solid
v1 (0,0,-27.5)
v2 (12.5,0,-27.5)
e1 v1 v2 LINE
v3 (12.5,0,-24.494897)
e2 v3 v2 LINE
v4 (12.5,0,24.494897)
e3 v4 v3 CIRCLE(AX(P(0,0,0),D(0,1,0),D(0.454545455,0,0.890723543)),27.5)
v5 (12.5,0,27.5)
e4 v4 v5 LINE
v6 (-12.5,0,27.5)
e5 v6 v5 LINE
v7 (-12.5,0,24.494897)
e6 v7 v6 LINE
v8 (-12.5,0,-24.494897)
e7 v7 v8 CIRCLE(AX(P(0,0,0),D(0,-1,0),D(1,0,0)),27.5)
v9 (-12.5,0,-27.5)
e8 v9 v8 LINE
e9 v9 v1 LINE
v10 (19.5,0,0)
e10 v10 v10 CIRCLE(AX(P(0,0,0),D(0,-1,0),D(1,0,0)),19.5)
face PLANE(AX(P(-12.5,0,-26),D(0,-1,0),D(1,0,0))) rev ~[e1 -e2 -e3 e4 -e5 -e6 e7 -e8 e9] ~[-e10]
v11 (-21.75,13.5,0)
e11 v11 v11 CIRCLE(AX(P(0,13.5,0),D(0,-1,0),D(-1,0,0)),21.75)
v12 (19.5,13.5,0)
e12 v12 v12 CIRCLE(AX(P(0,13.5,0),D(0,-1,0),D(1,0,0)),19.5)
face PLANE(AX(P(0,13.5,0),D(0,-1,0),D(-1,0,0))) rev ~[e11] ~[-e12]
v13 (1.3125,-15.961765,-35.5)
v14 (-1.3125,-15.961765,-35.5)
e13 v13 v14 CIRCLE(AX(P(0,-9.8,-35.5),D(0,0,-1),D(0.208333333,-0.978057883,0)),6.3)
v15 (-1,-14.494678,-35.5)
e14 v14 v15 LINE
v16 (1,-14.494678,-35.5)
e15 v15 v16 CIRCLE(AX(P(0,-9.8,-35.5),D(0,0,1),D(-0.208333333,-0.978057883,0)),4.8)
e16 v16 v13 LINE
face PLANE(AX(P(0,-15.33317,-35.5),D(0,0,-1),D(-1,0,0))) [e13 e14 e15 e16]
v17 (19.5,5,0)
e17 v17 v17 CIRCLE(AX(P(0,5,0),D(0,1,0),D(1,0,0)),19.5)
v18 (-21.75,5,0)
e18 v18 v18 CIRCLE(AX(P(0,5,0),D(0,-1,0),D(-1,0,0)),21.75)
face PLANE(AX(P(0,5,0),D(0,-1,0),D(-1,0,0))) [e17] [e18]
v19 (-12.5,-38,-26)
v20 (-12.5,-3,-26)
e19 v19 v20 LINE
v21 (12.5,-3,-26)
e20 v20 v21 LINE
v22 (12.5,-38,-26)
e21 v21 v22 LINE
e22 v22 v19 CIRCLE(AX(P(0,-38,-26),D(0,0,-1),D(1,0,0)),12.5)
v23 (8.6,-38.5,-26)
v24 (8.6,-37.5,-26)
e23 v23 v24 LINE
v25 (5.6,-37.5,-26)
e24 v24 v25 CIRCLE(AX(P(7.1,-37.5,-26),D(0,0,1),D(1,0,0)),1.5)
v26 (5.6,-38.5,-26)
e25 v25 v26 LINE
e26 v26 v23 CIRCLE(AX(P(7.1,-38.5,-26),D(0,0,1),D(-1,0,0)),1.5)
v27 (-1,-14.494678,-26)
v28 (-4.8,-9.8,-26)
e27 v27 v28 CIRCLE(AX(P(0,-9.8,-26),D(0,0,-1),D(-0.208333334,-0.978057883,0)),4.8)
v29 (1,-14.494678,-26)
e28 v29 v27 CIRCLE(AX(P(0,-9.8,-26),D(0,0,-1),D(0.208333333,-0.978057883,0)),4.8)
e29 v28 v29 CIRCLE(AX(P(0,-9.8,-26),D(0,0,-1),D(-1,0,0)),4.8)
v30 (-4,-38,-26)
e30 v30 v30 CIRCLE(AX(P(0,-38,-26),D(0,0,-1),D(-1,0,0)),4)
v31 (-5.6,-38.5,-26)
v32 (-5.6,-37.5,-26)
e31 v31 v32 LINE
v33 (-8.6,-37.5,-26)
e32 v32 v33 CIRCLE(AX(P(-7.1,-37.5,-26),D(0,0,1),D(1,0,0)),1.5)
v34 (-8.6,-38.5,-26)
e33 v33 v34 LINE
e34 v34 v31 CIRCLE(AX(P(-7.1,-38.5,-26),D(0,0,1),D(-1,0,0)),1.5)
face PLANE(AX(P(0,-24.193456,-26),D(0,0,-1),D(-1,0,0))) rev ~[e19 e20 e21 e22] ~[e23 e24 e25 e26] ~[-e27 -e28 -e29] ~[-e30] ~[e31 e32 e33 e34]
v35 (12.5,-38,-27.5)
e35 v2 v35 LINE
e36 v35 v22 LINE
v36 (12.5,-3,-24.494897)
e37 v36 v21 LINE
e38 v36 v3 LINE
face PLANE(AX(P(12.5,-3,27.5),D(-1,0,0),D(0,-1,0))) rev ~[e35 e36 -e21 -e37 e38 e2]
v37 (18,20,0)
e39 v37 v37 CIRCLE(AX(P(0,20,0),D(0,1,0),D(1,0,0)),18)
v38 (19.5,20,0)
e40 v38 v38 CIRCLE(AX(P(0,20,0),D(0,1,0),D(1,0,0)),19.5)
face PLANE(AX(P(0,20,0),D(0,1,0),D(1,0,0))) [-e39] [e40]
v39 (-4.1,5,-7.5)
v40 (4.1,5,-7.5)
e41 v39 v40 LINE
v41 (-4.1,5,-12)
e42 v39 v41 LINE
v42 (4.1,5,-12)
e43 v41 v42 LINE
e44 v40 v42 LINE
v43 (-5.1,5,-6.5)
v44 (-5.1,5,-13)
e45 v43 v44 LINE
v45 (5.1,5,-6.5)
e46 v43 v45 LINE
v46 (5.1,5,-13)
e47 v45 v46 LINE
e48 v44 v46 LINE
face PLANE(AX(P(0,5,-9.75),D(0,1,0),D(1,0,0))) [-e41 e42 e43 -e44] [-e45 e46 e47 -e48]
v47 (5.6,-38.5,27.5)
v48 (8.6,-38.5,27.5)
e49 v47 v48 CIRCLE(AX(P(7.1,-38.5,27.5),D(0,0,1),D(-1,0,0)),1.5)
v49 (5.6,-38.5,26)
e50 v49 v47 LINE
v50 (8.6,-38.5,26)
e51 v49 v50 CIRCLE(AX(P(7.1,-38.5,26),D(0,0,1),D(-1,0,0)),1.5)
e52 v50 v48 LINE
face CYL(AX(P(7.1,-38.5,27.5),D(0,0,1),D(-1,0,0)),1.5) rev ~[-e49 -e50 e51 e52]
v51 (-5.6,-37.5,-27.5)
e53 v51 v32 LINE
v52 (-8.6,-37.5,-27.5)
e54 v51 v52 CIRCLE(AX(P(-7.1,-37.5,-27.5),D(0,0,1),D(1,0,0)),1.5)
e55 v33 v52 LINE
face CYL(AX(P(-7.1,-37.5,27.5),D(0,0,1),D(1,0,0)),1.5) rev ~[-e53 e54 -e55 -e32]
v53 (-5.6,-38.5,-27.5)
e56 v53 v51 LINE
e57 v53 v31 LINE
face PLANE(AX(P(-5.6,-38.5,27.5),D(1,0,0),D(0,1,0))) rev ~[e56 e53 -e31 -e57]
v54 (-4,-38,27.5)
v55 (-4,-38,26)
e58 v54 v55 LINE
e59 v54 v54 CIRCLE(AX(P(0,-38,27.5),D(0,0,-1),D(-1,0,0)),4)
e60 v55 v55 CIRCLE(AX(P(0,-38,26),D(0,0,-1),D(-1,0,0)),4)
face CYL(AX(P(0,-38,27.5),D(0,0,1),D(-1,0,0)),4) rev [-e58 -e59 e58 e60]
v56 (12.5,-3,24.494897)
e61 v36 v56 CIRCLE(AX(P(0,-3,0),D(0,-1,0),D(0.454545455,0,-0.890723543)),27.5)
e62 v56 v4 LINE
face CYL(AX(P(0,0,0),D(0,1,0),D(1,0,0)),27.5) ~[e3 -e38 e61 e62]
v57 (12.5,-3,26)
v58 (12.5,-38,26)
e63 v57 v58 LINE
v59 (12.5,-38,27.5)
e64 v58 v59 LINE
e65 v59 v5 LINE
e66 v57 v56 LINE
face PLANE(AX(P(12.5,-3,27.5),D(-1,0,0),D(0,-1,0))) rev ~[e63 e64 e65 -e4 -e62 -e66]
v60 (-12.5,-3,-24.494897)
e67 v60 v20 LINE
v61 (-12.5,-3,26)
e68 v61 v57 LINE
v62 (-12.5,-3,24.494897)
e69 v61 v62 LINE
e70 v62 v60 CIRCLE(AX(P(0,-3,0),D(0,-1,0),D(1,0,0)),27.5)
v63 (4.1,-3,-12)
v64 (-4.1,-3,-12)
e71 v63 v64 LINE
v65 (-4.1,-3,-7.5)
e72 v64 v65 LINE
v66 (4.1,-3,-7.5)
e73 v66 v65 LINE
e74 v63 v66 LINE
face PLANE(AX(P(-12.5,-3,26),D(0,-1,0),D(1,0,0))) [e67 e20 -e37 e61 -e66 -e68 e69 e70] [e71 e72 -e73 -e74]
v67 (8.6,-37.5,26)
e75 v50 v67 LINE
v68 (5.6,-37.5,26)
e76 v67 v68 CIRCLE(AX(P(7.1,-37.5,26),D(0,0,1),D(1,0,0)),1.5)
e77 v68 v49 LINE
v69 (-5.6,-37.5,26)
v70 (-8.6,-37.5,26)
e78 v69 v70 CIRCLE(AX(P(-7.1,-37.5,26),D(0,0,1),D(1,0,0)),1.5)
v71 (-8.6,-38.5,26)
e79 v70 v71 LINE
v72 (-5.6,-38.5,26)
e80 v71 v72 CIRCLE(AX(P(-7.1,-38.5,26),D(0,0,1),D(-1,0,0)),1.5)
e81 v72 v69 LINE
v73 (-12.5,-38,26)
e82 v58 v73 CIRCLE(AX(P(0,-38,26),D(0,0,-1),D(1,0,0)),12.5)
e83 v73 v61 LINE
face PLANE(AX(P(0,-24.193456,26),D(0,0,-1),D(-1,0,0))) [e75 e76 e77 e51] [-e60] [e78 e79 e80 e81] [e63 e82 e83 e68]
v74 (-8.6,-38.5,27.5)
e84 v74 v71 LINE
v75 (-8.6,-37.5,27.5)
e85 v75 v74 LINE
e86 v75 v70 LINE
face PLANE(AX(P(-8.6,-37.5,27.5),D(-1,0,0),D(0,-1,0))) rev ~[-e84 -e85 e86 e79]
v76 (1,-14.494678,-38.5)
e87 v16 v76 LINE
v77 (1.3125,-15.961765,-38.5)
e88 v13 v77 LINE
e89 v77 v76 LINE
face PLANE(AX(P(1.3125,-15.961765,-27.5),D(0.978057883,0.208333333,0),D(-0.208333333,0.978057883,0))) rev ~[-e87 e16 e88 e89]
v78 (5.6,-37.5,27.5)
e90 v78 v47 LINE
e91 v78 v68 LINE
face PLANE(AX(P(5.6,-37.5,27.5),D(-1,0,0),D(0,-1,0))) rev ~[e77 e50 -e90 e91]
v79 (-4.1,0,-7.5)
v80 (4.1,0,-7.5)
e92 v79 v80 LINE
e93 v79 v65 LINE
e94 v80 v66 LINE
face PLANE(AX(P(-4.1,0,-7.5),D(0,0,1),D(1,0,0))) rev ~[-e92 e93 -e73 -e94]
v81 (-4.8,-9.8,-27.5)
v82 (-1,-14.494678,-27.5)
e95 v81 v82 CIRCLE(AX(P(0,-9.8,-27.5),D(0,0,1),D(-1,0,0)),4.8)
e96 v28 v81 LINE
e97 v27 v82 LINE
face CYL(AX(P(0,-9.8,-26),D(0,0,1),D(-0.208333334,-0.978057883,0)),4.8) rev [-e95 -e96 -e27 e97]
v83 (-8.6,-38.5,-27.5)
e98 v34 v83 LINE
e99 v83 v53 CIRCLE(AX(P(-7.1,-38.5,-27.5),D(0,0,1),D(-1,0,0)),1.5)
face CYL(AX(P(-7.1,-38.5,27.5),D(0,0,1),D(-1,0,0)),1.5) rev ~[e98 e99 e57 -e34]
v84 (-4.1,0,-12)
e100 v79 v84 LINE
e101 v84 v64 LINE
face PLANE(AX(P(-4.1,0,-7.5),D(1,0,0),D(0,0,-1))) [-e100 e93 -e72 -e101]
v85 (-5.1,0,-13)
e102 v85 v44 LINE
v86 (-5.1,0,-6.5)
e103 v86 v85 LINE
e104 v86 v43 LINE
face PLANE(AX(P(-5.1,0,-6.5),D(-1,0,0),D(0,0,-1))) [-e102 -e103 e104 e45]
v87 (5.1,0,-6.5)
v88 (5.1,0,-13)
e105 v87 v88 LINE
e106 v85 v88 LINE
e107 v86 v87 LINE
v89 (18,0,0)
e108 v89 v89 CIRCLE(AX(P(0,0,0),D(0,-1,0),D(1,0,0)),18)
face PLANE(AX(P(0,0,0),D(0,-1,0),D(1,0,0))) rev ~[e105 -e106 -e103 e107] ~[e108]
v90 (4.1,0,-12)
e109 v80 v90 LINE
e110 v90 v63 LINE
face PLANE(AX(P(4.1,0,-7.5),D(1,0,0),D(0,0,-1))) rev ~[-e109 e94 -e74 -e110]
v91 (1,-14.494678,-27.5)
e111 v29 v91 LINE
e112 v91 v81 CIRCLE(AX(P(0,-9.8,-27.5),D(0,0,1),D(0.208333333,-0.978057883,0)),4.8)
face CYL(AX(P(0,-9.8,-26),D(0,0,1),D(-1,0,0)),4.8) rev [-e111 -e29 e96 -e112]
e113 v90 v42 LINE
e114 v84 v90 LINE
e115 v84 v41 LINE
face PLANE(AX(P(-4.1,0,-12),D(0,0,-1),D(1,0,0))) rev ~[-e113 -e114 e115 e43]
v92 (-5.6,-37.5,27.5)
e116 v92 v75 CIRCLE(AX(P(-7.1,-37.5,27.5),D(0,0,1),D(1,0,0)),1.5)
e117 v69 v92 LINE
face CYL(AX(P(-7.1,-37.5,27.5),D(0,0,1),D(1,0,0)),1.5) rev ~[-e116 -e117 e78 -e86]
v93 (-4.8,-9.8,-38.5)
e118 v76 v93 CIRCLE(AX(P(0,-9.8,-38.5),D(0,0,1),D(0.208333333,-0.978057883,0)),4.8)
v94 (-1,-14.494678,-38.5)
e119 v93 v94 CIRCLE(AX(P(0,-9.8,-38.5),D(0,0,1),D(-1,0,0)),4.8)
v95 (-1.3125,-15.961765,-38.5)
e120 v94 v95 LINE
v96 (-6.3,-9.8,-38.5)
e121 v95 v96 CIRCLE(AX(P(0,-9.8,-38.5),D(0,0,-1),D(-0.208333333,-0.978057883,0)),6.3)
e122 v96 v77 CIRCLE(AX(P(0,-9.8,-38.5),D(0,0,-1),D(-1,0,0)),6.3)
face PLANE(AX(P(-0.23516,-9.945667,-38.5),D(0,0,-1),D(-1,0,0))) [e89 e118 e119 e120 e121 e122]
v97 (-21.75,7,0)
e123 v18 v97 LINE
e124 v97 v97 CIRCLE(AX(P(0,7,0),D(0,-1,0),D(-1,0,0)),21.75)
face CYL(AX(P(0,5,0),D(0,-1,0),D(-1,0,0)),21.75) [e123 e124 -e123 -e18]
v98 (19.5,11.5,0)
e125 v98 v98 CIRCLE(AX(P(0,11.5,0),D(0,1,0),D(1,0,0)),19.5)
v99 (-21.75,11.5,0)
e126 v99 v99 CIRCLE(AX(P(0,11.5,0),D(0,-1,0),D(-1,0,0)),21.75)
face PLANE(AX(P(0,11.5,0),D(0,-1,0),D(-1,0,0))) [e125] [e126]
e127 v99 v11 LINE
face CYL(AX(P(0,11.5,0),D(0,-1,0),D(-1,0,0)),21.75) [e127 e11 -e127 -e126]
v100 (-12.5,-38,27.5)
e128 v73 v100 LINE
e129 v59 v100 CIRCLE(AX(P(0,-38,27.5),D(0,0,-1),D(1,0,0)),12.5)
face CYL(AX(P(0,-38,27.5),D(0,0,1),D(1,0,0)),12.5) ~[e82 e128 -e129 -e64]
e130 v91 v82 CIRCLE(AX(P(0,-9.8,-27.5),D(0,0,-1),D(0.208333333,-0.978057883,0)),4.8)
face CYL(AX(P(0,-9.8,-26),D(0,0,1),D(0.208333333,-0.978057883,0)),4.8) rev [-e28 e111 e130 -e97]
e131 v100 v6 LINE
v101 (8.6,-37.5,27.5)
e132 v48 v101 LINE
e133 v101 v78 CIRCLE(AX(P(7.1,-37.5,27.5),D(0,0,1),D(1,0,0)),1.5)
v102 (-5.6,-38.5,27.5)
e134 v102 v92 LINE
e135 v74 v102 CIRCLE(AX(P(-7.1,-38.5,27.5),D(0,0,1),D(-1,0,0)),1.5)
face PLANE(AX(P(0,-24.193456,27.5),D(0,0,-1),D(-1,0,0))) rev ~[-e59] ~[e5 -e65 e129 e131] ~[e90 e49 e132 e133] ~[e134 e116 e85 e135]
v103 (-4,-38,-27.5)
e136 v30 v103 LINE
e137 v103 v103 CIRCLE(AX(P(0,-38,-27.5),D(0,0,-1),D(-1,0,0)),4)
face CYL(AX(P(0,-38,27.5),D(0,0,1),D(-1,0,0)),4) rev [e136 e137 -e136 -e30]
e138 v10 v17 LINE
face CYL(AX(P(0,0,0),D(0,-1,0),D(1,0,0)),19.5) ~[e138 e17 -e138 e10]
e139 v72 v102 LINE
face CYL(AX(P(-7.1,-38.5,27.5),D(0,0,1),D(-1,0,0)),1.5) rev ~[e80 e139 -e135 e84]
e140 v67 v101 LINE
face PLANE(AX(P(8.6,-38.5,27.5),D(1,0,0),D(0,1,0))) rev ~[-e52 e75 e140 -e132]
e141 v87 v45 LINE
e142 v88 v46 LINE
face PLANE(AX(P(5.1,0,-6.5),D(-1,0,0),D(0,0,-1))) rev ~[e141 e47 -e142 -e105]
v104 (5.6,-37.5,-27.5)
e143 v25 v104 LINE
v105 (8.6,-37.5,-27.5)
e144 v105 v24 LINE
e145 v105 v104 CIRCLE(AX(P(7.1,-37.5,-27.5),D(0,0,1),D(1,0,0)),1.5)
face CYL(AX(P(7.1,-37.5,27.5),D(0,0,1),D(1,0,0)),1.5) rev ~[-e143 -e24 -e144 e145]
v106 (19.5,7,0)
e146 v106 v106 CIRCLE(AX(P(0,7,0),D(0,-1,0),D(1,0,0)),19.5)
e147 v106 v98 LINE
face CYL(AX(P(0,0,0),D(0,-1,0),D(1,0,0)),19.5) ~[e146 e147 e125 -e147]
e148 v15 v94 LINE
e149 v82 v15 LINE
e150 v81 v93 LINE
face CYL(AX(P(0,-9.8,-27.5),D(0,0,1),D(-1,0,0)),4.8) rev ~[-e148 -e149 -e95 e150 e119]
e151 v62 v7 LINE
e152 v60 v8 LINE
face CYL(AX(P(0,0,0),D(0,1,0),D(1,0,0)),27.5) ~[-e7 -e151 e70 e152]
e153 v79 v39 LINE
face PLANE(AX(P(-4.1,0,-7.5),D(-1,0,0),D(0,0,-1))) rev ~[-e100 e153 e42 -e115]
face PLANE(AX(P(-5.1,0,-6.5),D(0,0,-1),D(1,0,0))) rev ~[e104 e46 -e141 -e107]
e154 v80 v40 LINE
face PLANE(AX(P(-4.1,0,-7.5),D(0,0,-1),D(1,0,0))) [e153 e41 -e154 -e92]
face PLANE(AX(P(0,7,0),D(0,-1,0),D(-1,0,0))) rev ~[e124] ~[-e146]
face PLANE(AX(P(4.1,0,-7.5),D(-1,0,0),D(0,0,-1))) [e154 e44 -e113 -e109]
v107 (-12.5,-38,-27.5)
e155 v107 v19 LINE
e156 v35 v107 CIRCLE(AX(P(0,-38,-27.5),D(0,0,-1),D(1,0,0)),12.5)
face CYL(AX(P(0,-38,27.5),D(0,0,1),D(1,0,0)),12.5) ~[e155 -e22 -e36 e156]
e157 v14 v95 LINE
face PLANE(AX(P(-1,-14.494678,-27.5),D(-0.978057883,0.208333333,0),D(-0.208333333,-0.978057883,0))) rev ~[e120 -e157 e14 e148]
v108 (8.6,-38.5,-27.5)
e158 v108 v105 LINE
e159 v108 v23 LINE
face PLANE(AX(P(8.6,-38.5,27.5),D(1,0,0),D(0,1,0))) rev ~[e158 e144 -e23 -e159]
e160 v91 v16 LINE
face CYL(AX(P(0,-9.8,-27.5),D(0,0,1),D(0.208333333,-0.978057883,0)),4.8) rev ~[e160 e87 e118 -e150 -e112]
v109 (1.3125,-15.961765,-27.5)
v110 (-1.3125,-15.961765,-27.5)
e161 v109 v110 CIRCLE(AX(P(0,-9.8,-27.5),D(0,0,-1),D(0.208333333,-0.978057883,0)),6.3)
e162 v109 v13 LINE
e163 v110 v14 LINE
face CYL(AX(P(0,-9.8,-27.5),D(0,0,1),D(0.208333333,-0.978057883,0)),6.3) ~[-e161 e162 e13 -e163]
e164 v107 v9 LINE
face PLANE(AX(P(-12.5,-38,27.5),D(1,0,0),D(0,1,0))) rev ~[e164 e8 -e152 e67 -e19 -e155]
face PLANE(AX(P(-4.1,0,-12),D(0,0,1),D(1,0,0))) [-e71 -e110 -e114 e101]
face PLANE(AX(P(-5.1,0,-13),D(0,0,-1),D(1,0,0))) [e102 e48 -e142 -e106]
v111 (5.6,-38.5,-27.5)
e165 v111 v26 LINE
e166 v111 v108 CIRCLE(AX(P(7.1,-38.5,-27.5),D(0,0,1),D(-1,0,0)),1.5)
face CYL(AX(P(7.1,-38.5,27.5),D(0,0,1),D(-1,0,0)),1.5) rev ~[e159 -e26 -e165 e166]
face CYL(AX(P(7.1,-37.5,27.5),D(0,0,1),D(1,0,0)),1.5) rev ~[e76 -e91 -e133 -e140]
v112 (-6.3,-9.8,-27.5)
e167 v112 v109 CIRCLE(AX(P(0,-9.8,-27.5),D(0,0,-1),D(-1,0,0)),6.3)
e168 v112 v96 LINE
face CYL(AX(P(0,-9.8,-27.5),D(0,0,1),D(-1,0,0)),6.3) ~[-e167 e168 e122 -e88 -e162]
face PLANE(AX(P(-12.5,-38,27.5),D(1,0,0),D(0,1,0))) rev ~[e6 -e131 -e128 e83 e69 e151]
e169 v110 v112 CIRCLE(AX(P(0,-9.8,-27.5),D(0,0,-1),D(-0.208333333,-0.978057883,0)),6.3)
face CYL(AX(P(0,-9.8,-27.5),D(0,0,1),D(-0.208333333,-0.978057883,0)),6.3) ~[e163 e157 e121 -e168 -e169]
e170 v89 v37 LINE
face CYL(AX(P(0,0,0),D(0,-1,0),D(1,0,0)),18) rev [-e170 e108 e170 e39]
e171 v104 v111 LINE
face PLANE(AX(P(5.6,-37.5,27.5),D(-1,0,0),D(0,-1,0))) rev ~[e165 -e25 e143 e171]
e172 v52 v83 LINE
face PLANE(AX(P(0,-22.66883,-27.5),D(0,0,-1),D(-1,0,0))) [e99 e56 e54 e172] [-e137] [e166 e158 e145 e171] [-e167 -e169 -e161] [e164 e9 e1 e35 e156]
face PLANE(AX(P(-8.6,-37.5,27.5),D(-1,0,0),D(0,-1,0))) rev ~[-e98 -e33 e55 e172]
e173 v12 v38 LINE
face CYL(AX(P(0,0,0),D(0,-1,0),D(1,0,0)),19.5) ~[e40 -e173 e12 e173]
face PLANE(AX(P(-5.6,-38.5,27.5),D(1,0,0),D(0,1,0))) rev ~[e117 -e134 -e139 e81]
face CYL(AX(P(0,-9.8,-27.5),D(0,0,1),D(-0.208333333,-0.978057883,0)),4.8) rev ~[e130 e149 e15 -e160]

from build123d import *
from build123d.topology import SkipClean

# Parameters (mm, degrees)
SKETCH_1_R           = 19.5
SKETCH_1_R_2         = 18
EXTRUDE_1_DEPTH      = 20
SKETCH_3_R           = 27.5
EXTRUDE_2_DEPTH      = 3
EXTRUDE_START        = 2
SKETCH_25_R          = 21.75
SKETCH_25_R_2        = 19.5
EXTRUDE_12_DEPTH     = 2
EXTRUDE_START_2      = -1
SKETCH_26_R          = 21.75
SKETCH_26_R_2        = 19.5
EXTRUDE_13_DEPTH     = 2
SKETCH_27_W          = 25
SKETCH_27_H          = 53.5
EXTRUDE_14_DEPTH     = 3
SKETCH_28_R          = 4
EXTRUDE_17_DEPTH     = 1.5
EXTRUDE_START_3      = -53.5
SKETCH_28_25_R       = 4
EXTRUDE_25_DEPTH     = 53.5
CUT_EXTRUDE_START    = -52
SKETCH_28_27_R       = 4
CUT_EXTRUDE_15_DEPTH = 52
EXTRUDE_24_DEPTH     = 11
CUT_EXTRUDE_START_2  = -1.5
CUT_EXTRUDE_10_DEPTH = 1.5
SKETCH_34_W          = 10.2
SKETCH_34_H          = 6.5
SKETCH_34_W_2        = 8.2
SKETCH_34_H_2        = 4.5
EXTRUDE_22_DEPTH     = 5
SKETCH_37_W          = 8.2
SKETCH_37_H          = 4.5
CUT_EXTRUDE_9_DEPTH  = 5
EXTRUDE_26_DEPTH     = 8


with BuildPart() as part:
    # 草圖1 → 填料-伸長1 (new body)
    with BuildSketch(Plane(origin=(0, 0, 0), x_dir=(1, 0, 0), z_dir=(0, 1, 0))):
        Circle(SKETCH_1_R)
        Circle(SKETCH_1_R_2, mode=Mode.SUBTRACT)
    extrude(amount=EXTRUDE_1_DEPTH)

    # 草圖3 → 填料-伸長2 (add)
    with BuildSketch(Plane.XZ):
        Circle(SKETCH_3_R)
    extrude(amount=EXTRUDE_2_DEPTH)

    # 草圖25 → 填料-伸長12 (add)
    with BuildSketch(Plane(origin=(0, 7, 0), x_dir=(-1, 0, 0), z_dir=(0, -1, 0)).offset(EXTRUDE_START)):
        Circle(SKETCH_25_R)
        Circle(SKETCH_25_R_2, mode=Mode.SUBTRACT)
    extrude(amount=-EXTRUDE_12_DEPTH)

    # 草圖26 → 填料-伸長13 (add)
    with BuildSketch(Plane(origin=(0, 10.5, 0), x_dir=(-1, 0, 0), z_dir=(0, -1, 0)).offset(EXTRUDE_START_2)):
        Circle(SKETCH_26_R)
        Circle(SKETCH_26_R_2, mode=Mode.SUBTRACT)
    extrude(amount=-EXTRUDE_13_DEPTH)

    # 草圖27 → 填料-伸長14 (add)
    with BuildSketch(Plane.XZ.offset(3)):
        with Locations((0, 0.75)):
            Rectangle(SKETCH_27_W, SKETCH_27_H)
    extrude(amount=-EXTRUDE_14_DEPTH)

    # 草圖28 → 填料-伸長17 (add)
    with BuildSketch(Plane(origin=(0, 0, -26), x_dir=(-1, 0, 0), z_dir=(0, 0, -1))):
        with BuildLine():
            Line((12.5, 0), (-12.5, 0))
            Line((-12.5, 0), (-12.5, -38))
            ThreePointArc((-12.5, -38), (0, -50.5), (12.5, -38))
            Line((12.5, -38), (12.5, 0))
        make_face()
        with BuildLine():
            Line((8.6, -37.5), (8.6, -38.5))
            ThreePointArc((8.6, -38.5), (7.1, -40), (5.6, -38.5))
            Line((5.6, -38.5), (5.6, -37.5))
            ThreePointArc((5.6, -37.5), (7.1, -36), (8.6, -37.5))
        make_face(mode=Mode.SUBTRACT)
        with Locations((0, -38)):
            Circle(SKETCH_28_R, mode=Mode.SUBTRACT)
        with BuildLine():
            Line((-5.6, -37.5), (-5.6, -38.5))
            ThreePointArc((-5.6, -38.5), (-7.1, -40), (-8.6, -38.5))
            Line((-8.6, -38.5), (-8.6, -37.5))
            ThreePointArc((-8.6, -37.5), (-7.1, -36), (-5.6, -37.5))
        make_face(mode=Mode.SUBTRACT)
    extrude(amount=EXTRUDE_17_DEPTH)

    # 草圖28<25> → 填料-伸長25 (add)
    with BuildSketch(Plane(origin=(0, 0, -26), x_dir=(-1, 0, 0), z_dir=(0, 0, -1)).offset(EXTRUDE_START_3)):
        with BuildLine():
            Line((12.5, -38), (12.5, -3))
            Line((12.5, -3), (-12.5, -3))
            Line((-12.5, -3), (-12.5, -38))
            ThreePointArc((-12.5, -38), (0, -50.5), (12.5, -38))
        make_face()
        with BuildLine():
            Line((8.6, -37.5), (8.6, -38.5))
            ThreePointArc((8.6, -38.5), (7.1, -40), (5.6, -38.5))
            Line((5.6, -38.5), (5.6, -37.5))
            ThreePointArc((5.6, -37.5), (7.1, -36), (8.6, -37.5))
        make_face(mode=Mode.SUBTRACT)
        with Locations((0, -38)):
            Circle(SKETCH_28_25_R, mode=Mode.SUBTRACT)
        with BuildLine():
            Line((-5.6, -37.5), (-5.6, -38.5))
            ThreePointArc((-5.6, -38.5), (-7.1, -40), (-8.6, -38.5))
            Line((-8.6, -38.5), (-8.6, -37.5))
            ThreePointArc((-8.6, -37.5), (-7.1, -36), (-5.6, -37.5))
        make_face(mode=Mode.SUBTRACT)
    extrude(amount=EXTRUDE_25_DEPTH)

    # 草圖28<27> → 除料-伸長15 (cut)
    with BuildSketch(Plane(origin=(0, 0, -26), x_dir=(-1, 0, 0), z_dir=(0, 0, -1)).offset(CUT_EXTRUDE_START)):
        with BuildLine():
            Line((12.5, -38), (12.5, -3))
            Line((12.5, -3), (-12.5, -3))
            Line((-12.5, -3), (-12.5, -38))
            ThreePointArc((-12.5, -38), (0, -50.5), (12.5, -38))
        make_face()
        with BuildLine():
            Line((8.6, -37.5), (8.6, -38.5))
            ThreePointArc((8.6, -38.5), (7.1, -40), (5.6, -38.5))
            Line((5.6, -38.5), (5.6, -37.5))
            ThreePointArc((5.6, -37.5), (7.1, -36), (8.6, -37.5))
        make_face(mode=Mode.SUBTRACT)
        with Locations((0, -38)):
            Circle(SKETCH_28_27_R, mode=Mode.SUBTRACT)
        with BuildLine():
            Line((-5.6, -37.5), (-5.6, -38.5))
            ThreePointArc((-5.6, -38.5), (-7.1, -40), (-8.6, -38.5))
            Line((-8.6, -38.5), (-8.6, -37.5))
            ThreePointArc((-8.6, -37.5), (-7.1, -36), (-5.6, -37.5))
        make_face(mode=Mode.SUBTRACT)
    extrude(amount=CUT_EXTRUDE_15_DEPTH, mode=Mode.SUBTRACT)

    # 草圖38<4> → 填料-伸長24 (add)
    with BuildSketch(Plane(origin=(0, 0, -27.5), x_dir=(-1, 0, 0), z_dir=(0, 0, -1))):
        with BuildLine():
            Line((-1.3125, -15.961764662), (-1, -14.494677838))
            ThreePointArc((-1, -14.494677838), (-3.019933774, -6.069048379), (4.8, -9.8))
            ThreePointArc((4.8, -9.8), (3.730951621, -12.819933774), (1, -14.494677838))
            Line((1, -14.494677838), (1.3125, -15.961764662))
            ThreePointArc((1.3125, -15.961764662), (4.896874003, -13.763663079), (6.3, -9.8))
            ThreePointArc((6.3, -9.8), (-3.963663079, -4.903125997), (-1.3125, -15.961764662))
        make_face()
    extrude(amount=EXTRUDE_24_DEPTH)

    # 草圖38 → 除料-伸長10 (cut)
    with SkipClean():  # the faces are left unmerged after this step: merging them gives an invalid solid
        with BuildSketch(Plane(origin=(0, 0, -27.5), x_dir=(-1, 0, 0), z_dir=(0, 0, -1)).offset(CUT_EXTRUDE_START_2)):
            with BuildLine():
                ThreePointArc((4.8, -9.8), (-3.019933774, -6.069048379), (-1, -14.494677838))
                ThreePointArc((-1, -14.494677838), (0, -14.6), (1, -14.494677838))
                ThreePointArc((1, -14.494677838), (3.730951621, -12.819933774), (4.8, -9.8))
            make_face()
        extrude(amount=CUT_EXTRUDE_10_DEPTH, mode=Mode.SUBTRACT)

    # 草圖34 → 填料-伸長22 (add)
    with SkipClean():  # the faces are left unmerged after this step: merging them gives an invalid solid
        with BuildSketch(Plane(origin=(0, 0, 0), x_dir=(1, 0, 0), z_dir=(0, 1, 0))):
            with Locations((0, 9.75)):
                Rectangle(SKETCH_34_W, SKETCH_34_H)
            with Locations((0, 9.75)):
                Rectangle(SKETCH_34_W_2, SKETCH_34_H_2, mode=Mode.SUBTRACT)
        extrude(amount=EXTRUDE_22_DEPTH)

    # 草圖37 → 除料-伸長9 (cut)
    with SkipClean():  # the faces are left unmerged after this step: merging them gives an invalid solid
        with BuildSketch(Plane(origin=(0, 0, 0), x_dir=(1, 0, 0), z_dir=(0, 1, 0))):
            with Locations((0, 9.75)):
                Rectangle(SKETCH_37_W, SKETCH_37_H)
        extrude(amount=-CUT_EXTRUDE_9_DEPTH, mode=Mode.SUBTRACT)

    # 草圖38<12> → 填料-伸長26 (add)
    with SkipClean():  # the faces are left unmerged after this step: merging them gives an invalid solid
        with BuildSketch(Plane(origin=(0, 0, -27.5), x_dir=(-1, 0, 0), z_dir=(0, 0, -1))):
            with BuildLine():
                ThreePointArc((1, -14.494677838), (0, -14.6), (-1, -14.494677838))
                Line((-1, -14.494677838), (-1.3125, -15.961764662))
                ThreePointArc((-1.3125, -15.961764662), (0, -16.1), (1.3125, -15.961764662))
                Line((1.3125, -15.961764662), (1, -14.494677838))
            make_face()
        extrude(amount=EXTRUDE_26_DEPTH)


solid = part.part
